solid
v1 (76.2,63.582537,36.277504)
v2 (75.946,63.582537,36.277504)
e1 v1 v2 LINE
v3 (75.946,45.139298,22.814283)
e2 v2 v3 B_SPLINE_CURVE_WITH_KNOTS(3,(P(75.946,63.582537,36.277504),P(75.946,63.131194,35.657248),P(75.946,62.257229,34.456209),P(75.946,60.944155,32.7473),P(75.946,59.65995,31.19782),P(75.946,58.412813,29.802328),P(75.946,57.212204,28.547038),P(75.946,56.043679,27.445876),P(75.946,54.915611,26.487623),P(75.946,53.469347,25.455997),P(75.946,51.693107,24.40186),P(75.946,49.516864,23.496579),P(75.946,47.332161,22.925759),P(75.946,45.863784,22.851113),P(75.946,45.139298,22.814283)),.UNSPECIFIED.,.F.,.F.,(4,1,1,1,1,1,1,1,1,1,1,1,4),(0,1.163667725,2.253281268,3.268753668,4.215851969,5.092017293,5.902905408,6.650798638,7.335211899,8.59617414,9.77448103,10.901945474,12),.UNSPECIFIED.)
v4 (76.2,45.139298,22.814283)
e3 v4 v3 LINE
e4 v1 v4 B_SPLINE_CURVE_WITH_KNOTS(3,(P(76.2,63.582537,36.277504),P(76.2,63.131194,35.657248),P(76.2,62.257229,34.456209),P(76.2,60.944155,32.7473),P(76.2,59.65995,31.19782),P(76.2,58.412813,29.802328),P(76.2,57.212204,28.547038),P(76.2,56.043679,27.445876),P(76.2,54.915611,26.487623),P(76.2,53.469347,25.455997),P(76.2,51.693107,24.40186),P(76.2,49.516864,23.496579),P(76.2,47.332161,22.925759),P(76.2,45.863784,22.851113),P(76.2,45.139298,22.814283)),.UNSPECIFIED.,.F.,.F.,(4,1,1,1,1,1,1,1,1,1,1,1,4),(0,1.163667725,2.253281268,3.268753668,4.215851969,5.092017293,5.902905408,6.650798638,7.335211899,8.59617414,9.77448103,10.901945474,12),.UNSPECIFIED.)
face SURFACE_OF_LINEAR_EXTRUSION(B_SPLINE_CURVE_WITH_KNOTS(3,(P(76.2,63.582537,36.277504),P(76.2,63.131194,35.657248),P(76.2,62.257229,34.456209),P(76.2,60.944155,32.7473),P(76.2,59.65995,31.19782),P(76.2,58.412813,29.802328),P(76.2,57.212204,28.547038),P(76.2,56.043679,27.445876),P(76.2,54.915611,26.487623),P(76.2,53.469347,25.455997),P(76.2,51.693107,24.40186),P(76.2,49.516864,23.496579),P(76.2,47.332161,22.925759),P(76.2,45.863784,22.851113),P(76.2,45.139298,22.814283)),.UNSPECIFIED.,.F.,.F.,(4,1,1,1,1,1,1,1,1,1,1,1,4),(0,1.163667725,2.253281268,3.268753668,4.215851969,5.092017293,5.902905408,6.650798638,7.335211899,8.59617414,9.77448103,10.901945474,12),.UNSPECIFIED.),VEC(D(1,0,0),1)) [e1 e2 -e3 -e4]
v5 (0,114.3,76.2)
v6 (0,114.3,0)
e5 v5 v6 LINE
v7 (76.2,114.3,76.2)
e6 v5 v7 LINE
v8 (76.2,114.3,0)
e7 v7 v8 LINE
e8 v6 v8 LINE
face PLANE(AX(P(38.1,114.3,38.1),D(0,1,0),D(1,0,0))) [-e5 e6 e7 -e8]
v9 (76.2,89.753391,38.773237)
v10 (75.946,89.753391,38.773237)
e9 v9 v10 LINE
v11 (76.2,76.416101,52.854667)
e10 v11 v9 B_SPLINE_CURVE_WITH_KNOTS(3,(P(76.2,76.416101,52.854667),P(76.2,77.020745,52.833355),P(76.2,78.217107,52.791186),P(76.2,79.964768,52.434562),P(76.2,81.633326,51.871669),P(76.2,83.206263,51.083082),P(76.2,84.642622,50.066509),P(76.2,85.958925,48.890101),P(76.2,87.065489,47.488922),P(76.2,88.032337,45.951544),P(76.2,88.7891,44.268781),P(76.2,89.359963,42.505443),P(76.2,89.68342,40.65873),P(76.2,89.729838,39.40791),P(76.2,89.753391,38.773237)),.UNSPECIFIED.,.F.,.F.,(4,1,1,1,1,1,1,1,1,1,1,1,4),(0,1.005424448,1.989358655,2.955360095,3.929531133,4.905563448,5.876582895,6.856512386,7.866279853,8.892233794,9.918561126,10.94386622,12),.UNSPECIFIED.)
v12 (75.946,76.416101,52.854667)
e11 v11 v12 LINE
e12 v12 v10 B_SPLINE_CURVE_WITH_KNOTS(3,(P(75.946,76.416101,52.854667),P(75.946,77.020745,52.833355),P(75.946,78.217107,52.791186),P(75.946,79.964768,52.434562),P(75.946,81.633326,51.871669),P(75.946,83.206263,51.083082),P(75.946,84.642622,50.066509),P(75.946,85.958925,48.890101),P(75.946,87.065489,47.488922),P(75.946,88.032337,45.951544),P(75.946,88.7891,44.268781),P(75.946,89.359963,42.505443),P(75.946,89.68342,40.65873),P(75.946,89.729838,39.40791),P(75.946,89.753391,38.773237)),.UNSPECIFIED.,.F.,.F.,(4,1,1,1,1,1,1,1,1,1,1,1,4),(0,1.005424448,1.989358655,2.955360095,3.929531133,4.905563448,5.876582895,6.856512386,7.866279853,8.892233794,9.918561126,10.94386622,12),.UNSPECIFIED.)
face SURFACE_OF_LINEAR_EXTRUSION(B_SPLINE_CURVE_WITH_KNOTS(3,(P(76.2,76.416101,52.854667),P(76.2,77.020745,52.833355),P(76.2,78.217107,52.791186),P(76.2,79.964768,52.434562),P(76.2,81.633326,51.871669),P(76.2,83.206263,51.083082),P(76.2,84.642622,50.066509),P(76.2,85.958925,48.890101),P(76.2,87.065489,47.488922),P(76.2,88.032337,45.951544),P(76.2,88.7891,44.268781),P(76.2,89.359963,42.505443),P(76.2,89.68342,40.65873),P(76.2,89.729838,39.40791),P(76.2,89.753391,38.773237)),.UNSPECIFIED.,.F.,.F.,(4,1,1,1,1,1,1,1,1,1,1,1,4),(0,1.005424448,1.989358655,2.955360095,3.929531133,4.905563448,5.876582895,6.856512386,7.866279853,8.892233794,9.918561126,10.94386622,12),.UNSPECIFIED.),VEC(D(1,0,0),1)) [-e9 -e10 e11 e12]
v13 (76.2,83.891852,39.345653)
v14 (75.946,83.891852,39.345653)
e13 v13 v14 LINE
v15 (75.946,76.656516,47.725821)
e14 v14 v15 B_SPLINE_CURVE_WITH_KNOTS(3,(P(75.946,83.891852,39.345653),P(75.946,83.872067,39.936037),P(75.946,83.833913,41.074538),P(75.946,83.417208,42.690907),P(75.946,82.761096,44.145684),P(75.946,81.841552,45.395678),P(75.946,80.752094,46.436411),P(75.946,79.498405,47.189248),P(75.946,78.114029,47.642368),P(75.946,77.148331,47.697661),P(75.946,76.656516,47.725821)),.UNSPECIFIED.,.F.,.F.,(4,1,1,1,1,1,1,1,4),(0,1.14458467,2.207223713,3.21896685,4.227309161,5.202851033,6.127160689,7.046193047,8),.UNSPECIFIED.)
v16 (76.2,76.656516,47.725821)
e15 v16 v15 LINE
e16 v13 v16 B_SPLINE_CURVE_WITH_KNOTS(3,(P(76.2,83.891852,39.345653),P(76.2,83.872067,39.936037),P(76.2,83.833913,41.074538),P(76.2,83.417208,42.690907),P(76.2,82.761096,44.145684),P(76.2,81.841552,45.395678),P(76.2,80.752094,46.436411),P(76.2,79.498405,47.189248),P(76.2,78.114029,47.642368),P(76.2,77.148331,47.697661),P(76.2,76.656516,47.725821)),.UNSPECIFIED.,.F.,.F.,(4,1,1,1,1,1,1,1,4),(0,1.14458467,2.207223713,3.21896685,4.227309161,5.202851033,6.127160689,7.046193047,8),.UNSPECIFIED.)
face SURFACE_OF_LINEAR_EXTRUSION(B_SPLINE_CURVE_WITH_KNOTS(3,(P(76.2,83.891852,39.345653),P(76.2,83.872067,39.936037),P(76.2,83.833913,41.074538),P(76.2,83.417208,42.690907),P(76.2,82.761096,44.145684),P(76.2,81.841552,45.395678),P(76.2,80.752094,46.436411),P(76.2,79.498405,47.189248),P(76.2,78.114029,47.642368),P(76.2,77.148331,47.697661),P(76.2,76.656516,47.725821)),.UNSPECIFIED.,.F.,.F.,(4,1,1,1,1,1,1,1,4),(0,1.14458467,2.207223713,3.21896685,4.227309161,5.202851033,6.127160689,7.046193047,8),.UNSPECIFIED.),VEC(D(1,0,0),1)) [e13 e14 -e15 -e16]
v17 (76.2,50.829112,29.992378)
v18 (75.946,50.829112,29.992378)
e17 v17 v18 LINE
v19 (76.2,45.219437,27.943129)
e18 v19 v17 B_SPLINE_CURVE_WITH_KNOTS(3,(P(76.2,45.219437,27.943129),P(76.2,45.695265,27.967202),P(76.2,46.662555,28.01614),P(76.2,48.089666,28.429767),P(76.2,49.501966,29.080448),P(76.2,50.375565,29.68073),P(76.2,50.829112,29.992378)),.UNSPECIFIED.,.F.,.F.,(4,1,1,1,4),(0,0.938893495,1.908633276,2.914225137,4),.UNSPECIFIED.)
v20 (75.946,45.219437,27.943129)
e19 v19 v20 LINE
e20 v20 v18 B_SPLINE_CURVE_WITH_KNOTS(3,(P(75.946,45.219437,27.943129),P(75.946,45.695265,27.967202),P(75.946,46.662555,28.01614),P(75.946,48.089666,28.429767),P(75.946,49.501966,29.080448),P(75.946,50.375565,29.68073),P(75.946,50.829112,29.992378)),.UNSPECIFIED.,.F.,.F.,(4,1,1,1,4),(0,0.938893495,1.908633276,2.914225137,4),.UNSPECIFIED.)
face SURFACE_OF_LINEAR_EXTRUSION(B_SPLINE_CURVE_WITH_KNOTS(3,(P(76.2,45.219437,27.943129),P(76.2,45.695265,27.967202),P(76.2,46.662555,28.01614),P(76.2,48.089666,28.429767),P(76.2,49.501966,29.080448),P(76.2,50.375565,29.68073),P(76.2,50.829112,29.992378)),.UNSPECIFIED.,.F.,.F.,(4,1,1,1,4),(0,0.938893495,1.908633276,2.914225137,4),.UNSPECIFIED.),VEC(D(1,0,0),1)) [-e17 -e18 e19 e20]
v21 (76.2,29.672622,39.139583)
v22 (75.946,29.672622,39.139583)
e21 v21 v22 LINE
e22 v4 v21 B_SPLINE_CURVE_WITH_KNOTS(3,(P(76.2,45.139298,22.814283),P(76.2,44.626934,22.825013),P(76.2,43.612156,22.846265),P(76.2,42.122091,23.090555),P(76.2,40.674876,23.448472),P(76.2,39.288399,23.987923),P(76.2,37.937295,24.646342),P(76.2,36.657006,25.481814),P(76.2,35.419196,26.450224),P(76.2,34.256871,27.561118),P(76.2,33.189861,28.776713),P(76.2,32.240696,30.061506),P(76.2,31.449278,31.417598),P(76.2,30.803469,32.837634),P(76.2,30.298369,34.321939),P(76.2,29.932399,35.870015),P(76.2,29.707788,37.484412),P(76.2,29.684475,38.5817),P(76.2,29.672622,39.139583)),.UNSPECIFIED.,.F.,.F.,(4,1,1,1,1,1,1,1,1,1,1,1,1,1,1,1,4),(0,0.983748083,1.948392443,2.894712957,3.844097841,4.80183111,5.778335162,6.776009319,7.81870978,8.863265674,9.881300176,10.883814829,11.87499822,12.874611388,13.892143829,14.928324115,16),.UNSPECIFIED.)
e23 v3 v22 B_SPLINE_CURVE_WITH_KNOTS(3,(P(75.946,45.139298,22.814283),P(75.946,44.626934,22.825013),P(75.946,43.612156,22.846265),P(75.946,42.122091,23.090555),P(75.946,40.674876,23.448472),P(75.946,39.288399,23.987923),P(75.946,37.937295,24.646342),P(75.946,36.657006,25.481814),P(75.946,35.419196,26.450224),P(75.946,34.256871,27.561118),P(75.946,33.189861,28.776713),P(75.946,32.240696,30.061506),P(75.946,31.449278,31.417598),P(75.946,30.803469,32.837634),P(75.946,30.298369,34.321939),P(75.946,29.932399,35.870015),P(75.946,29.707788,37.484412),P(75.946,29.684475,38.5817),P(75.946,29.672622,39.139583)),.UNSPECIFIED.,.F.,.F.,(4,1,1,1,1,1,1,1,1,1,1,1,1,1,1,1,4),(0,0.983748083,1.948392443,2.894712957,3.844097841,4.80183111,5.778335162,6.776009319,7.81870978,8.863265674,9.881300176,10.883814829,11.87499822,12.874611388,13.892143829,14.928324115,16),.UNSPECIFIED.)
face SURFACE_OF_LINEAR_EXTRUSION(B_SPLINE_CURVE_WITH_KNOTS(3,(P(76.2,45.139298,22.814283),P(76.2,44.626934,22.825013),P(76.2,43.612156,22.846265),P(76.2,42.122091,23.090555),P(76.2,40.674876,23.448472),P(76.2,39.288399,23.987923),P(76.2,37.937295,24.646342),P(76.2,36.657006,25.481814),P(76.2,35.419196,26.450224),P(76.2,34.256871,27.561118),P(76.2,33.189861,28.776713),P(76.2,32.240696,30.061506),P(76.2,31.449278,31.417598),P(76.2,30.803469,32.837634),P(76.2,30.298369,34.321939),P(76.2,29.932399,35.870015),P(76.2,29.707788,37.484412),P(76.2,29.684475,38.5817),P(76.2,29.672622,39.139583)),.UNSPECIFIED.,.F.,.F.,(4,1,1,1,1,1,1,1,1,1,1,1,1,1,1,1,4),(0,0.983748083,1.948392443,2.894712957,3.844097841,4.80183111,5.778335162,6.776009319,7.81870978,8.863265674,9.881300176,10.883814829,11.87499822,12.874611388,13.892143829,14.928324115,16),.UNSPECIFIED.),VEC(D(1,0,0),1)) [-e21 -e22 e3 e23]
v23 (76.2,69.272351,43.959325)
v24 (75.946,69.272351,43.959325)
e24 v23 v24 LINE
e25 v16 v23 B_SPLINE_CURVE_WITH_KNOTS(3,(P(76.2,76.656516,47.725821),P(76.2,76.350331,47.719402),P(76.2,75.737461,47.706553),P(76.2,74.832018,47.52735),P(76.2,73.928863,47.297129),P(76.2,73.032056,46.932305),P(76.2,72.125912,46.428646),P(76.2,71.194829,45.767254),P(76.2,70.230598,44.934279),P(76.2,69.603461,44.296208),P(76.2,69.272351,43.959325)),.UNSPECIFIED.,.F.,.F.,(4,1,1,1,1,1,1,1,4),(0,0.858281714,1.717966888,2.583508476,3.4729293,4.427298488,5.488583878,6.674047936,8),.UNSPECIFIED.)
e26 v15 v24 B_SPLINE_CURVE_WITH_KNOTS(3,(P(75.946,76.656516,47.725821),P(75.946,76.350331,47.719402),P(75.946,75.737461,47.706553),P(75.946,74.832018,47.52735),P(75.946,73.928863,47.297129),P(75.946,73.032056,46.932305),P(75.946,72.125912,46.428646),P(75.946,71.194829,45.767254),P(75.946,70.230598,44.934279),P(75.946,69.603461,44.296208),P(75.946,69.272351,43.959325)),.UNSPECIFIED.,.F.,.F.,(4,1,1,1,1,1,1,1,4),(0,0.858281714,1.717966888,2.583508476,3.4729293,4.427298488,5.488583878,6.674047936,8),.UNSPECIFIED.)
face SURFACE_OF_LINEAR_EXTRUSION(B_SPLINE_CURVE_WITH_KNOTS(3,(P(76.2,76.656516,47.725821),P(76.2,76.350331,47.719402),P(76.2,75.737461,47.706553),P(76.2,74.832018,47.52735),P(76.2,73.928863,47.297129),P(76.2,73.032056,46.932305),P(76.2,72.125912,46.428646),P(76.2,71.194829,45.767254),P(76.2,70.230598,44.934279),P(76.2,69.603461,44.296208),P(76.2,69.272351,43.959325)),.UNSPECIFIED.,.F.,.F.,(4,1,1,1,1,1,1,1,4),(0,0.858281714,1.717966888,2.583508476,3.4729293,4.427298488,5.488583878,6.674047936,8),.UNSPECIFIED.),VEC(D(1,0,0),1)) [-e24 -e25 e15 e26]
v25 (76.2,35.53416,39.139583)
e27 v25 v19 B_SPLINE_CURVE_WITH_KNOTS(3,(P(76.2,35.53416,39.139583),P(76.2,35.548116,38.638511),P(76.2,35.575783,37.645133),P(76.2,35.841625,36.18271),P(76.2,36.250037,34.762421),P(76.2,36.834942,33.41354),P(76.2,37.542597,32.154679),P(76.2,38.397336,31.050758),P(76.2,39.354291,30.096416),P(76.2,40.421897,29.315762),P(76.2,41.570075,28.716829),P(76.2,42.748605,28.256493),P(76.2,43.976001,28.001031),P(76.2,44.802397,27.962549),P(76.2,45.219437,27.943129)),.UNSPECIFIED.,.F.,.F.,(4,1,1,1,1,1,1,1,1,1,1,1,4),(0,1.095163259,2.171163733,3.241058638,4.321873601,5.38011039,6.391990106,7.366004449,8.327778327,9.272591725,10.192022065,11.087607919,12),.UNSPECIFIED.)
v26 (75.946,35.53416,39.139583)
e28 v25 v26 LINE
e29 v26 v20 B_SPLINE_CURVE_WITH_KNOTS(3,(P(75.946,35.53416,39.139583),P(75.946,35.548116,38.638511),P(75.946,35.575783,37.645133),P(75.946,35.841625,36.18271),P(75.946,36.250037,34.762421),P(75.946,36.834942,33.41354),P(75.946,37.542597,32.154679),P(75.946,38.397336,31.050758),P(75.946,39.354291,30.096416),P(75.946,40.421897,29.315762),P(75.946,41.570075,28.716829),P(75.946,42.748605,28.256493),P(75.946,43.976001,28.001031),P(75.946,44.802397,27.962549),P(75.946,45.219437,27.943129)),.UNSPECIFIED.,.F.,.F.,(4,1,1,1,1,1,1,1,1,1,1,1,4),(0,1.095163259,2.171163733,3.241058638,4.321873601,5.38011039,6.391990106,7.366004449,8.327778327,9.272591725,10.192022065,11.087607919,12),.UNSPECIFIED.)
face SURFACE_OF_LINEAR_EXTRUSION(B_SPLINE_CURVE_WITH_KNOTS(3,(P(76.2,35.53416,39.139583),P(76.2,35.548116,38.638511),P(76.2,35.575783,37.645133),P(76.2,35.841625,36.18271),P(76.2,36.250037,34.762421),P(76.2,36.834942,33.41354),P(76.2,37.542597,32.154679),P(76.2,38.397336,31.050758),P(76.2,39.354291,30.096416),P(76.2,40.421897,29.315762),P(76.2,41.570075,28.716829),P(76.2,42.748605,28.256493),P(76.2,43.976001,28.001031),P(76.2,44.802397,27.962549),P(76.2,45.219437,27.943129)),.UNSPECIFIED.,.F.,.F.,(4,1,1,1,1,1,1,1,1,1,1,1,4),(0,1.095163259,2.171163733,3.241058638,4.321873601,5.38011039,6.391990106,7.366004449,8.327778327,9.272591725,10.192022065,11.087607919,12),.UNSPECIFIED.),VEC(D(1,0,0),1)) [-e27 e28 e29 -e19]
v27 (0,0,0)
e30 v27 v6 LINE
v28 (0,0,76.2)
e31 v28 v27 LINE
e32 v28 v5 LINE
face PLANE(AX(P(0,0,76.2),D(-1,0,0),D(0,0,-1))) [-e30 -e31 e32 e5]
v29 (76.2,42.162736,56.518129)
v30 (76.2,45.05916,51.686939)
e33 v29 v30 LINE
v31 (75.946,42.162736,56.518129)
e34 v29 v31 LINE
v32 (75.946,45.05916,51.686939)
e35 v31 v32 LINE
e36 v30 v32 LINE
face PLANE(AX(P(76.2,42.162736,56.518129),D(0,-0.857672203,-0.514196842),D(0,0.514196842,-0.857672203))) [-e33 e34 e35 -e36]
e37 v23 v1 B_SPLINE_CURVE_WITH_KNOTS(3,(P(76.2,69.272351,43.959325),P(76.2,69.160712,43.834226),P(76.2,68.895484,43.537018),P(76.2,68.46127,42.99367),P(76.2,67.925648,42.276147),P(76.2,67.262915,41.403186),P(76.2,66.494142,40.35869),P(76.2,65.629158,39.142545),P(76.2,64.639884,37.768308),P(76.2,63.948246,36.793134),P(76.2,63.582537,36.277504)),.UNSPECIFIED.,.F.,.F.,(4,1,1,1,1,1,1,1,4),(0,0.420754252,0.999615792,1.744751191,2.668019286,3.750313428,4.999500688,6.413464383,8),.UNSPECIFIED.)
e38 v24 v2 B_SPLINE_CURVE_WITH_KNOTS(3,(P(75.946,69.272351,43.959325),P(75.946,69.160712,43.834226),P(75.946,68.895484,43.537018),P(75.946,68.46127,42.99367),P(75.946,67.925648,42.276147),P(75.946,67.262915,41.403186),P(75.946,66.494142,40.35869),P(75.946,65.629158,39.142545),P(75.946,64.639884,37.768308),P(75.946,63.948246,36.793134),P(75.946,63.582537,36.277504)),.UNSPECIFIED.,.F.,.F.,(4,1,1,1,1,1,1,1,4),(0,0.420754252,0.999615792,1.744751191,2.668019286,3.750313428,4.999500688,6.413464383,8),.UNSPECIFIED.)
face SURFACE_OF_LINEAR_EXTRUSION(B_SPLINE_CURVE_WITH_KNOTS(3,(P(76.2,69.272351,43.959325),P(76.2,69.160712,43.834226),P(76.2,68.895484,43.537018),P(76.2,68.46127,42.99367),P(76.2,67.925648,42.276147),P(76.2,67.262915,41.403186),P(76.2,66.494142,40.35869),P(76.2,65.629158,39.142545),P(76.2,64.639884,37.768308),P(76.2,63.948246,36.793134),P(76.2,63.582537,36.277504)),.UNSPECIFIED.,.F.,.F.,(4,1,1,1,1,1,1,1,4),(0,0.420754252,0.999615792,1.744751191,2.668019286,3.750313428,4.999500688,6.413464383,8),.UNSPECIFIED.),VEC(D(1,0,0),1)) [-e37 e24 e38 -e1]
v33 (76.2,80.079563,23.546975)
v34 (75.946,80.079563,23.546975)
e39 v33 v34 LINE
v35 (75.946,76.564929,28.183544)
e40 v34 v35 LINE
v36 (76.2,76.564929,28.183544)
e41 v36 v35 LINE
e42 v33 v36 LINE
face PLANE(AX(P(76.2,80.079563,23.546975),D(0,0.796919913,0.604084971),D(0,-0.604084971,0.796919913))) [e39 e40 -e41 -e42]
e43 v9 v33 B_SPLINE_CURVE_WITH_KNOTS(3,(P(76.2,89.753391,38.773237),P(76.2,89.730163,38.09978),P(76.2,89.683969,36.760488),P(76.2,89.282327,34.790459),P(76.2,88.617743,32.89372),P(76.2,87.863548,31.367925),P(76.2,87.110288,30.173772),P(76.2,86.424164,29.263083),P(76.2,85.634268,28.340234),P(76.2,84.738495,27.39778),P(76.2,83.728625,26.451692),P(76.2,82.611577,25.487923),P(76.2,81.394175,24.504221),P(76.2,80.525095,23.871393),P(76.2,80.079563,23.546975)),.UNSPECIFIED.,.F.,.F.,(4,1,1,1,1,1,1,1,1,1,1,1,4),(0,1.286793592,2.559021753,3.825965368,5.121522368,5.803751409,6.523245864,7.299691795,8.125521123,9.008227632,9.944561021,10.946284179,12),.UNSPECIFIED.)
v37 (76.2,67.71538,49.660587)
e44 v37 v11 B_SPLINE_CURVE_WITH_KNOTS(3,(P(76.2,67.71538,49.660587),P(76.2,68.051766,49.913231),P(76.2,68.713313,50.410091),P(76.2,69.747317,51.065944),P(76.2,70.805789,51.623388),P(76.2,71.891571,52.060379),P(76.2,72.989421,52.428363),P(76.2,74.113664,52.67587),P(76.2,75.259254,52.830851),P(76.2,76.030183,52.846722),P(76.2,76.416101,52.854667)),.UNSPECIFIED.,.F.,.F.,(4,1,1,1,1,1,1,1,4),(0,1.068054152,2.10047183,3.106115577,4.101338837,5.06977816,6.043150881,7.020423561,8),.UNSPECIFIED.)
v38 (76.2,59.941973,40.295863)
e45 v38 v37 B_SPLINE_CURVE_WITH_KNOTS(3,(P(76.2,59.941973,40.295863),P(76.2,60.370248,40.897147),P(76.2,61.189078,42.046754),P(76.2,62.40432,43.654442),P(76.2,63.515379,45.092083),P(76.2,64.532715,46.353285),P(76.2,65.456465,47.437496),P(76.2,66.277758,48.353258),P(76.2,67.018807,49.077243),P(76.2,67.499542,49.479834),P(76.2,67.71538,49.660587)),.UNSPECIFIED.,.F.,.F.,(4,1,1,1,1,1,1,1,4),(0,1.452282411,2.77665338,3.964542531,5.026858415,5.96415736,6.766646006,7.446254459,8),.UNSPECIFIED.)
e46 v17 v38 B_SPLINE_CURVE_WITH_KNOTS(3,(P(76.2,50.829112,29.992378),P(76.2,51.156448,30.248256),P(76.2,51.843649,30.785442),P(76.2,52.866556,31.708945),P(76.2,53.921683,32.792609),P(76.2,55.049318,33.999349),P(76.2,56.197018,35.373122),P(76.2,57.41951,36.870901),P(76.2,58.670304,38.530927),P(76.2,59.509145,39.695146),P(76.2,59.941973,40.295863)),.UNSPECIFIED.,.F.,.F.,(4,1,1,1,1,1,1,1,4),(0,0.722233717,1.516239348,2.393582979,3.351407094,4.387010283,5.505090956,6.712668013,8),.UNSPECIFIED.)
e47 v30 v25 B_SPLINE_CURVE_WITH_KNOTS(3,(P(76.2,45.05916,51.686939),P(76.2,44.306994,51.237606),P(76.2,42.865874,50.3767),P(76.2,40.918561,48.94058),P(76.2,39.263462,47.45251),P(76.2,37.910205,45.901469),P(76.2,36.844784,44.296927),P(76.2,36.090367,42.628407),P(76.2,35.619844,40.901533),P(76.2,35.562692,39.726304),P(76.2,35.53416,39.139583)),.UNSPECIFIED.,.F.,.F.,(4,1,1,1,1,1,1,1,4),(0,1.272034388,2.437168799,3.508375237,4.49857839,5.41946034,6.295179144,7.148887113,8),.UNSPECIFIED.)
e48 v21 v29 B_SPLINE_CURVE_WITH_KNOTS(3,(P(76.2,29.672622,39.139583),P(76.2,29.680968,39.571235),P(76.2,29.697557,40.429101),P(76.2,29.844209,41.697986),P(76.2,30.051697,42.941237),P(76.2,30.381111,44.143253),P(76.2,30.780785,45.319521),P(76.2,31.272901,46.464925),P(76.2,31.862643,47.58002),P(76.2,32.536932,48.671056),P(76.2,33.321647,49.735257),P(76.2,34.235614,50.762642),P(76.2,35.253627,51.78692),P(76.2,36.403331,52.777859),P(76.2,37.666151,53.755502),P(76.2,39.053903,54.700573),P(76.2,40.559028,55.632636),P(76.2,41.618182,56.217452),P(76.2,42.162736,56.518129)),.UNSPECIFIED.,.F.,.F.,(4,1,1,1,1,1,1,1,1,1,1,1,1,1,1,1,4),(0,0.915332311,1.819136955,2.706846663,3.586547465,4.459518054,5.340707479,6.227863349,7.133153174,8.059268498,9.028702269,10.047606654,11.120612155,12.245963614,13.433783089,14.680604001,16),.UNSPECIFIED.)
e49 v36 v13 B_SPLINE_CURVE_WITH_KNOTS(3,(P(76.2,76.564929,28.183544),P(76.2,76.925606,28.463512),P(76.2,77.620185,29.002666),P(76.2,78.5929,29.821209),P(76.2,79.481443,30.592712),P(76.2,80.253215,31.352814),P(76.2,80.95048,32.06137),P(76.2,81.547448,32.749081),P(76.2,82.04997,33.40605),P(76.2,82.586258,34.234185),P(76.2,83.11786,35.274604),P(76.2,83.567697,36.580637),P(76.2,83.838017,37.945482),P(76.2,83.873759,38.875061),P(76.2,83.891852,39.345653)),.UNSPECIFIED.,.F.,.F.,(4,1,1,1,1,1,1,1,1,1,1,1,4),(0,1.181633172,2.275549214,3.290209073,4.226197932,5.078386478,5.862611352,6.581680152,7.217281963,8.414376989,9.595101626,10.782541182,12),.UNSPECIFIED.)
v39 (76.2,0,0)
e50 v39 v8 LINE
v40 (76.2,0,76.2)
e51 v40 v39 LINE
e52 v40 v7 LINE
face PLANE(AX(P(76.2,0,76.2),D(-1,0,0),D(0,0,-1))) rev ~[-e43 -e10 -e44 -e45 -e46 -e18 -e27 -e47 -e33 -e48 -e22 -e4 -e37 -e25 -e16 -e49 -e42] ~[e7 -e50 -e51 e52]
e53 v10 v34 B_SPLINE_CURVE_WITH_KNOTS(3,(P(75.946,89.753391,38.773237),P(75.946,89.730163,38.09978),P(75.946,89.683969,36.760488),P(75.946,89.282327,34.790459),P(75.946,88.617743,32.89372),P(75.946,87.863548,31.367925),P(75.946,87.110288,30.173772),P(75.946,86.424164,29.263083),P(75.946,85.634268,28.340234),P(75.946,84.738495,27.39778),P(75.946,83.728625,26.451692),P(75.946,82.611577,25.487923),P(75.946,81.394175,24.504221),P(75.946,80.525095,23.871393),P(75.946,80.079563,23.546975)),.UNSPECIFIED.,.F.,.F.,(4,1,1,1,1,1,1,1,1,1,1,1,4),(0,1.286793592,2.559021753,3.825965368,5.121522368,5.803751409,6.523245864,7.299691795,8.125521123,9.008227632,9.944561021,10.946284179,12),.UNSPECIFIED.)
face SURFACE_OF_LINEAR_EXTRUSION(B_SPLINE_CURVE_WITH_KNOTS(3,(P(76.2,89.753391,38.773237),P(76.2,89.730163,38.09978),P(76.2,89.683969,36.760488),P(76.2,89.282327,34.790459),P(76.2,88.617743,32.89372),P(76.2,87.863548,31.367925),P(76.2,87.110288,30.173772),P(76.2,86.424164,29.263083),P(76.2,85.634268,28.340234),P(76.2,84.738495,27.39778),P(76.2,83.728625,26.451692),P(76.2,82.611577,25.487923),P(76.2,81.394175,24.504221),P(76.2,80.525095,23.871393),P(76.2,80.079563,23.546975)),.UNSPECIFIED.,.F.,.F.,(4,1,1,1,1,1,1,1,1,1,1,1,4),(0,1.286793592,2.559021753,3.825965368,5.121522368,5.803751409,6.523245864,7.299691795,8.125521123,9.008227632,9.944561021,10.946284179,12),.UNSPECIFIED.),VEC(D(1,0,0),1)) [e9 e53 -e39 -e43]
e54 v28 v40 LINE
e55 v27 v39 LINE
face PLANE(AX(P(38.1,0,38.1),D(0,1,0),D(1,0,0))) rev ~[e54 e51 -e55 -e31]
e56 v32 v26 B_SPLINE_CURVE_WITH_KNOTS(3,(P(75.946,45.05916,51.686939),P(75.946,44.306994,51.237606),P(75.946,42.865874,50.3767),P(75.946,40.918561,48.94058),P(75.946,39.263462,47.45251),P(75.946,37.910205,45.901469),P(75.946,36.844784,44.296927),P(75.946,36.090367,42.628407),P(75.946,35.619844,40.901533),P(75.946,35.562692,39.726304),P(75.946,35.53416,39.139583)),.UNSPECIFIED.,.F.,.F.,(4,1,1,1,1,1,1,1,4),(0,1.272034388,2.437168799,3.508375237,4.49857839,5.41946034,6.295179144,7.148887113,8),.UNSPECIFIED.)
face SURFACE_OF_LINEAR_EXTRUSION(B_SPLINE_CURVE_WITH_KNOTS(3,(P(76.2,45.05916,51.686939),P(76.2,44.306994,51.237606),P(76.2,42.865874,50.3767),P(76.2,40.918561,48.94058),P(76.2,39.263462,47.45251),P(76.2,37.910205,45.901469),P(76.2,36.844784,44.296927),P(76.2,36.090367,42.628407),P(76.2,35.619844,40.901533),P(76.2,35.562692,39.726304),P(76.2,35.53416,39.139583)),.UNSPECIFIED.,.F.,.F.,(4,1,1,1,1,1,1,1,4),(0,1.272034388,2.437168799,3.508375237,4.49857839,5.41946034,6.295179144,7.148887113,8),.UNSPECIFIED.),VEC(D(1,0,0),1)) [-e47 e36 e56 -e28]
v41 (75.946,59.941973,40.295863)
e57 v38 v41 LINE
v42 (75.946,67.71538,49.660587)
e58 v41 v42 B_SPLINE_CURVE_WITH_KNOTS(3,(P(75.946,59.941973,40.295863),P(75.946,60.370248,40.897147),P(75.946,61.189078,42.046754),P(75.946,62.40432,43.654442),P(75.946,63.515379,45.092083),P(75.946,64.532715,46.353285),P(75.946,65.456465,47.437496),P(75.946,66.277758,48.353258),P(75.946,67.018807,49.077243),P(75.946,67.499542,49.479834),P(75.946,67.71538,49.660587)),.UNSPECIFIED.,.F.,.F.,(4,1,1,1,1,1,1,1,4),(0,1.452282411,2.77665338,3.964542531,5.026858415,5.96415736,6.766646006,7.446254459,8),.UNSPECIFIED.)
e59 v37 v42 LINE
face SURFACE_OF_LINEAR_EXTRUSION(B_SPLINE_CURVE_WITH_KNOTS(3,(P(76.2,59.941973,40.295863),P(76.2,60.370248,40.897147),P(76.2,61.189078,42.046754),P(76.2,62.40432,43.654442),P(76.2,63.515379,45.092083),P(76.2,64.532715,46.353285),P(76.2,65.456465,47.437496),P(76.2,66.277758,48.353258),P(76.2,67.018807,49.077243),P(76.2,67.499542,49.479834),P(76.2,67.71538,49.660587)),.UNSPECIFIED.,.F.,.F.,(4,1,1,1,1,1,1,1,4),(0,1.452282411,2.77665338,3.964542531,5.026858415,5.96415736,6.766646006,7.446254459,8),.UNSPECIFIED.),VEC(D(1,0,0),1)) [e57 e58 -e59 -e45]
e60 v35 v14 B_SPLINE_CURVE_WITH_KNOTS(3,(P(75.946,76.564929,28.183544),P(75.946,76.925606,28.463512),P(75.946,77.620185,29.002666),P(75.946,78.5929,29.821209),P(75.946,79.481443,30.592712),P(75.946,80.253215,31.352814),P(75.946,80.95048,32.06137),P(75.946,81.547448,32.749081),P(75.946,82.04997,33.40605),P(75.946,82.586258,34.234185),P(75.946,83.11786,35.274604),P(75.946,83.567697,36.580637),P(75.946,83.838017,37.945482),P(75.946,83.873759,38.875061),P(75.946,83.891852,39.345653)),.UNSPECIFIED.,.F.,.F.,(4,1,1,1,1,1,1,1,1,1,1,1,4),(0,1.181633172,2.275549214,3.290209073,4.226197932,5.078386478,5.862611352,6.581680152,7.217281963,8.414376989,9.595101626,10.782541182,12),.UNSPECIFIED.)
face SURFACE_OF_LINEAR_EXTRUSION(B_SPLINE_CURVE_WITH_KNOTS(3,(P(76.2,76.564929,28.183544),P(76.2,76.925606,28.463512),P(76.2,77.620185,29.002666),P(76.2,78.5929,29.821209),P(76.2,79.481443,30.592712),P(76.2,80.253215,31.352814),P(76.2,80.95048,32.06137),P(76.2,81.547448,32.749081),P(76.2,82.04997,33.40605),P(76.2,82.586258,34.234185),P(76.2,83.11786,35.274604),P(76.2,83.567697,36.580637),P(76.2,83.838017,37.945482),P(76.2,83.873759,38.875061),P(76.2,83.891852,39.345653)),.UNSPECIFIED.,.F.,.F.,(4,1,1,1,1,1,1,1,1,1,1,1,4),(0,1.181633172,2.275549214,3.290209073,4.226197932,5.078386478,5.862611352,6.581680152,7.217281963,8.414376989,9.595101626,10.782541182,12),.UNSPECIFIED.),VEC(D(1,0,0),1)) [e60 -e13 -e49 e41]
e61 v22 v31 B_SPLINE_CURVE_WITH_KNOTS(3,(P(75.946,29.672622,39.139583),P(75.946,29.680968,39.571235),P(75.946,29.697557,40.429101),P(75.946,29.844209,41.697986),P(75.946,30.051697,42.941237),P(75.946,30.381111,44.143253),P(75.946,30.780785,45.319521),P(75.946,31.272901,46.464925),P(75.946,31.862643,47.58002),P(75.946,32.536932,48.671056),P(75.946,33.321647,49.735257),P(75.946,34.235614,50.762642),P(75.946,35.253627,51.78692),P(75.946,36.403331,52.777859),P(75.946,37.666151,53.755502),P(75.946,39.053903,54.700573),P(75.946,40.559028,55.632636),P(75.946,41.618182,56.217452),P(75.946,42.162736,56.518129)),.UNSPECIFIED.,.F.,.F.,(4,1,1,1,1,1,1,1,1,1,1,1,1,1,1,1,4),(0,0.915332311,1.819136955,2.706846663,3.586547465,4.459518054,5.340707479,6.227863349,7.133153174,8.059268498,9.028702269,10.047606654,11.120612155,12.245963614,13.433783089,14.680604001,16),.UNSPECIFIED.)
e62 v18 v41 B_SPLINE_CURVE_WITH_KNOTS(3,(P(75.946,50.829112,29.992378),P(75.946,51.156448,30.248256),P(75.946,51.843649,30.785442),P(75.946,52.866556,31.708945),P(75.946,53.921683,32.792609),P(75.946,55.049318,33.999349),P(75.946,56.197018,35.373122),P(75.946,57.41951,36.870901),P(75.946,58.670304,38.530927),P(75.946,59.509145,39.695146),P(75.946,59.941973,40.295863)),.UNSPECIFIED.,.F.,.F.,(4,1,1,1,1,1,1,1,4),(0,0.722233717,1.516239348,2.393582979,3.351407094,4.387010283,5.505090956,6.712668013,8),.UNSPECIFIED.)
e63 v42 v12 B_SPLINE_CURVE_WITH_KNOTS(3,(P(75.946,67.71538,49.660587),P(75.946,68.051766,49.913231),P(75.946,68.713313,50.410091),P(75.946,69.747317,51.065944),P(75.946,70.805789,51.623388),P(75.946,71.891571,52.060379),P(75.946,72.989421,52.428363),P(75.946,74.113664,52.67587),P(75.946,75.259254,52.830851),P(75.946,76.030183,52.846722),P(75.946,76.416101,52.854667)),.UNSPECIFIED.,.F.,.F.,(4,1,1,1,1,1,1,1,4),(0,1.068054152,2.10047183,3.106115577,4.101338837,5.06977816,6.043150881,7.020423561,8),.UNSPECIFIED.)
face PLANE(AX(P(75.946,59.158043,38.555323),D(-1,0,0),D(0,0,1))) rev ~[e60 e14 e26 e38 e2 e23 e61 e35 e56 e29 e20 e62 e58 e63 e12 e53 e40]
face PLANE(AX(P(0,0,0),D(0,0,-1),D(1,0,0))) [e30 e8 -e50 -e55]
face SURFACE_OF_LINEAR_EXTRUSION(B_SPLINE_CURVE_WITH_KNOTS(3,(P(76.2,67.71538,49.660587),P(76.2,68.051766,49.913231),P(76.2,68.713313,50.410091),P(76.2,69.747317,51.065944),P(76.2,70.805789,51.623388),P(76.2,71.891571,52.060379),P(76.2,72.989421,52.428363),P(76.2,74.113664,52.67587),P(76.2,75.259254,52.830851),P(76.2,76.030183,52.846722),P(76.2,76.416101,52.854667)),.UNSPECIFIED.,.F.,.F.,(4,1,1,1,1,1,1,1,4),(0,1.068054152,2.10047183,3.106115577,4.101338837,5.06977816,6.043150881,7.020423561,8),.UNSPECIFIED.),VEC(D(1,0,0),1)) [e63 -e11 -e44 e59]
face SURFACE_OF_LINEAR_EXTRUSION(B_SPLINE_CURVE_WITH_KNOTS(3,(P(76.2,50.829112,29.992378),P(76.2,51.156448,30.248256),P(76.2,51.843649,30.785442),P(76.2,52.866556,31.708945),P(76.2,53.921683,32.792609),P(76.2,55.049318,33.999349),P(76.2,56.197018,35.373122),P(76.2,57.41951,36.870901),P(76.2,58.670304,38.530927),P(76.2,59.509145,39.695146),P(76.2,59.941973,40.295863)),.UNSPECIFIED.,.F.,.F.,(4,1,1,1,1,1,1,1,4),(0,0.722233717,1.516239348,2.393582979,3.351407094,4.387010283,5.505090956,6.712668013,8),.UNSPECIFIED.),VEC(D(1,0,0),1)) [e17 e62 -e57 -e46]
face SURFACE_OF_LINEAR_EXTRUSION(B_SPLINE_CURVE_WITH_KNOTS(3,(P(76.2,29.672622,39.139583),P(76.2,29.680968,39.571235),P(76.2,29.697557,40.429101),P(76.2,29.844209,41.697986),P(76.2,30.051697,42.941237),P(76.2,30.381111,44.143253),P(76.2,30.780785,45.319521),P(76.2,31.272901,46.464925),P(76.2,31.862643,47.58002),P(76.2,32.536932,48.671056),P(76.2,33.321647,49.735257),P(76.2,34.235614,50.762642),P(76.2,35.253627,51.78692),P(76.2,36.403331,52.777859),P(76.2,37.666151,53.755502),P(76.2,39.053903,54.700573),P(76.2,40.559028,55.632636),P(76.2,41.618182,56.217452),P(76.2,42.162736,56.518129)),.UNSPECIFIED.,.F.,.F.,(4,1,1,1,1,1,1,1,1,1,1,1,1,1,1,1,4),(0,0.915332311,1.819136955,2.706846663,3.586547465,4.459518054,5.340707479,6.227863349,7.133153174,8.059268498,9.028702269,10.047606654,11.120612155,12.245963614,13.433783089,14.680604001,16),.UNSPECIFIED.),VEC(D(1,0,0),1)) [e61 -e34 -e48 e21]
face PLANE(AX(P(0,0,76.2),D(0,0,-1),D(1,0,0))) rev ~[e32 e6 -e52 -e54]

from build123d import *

# Parameters (mm, degrees)
SKETCH1_W           = 76.2
SKETCH1_H           = 76.2
BOSS_EXTRUDE1_DEPTH = 114.3
CUT_EXTRUDE1_DEPTH  = 0.254


with BuildPart() as part:
    # Sketch1 → Boss-Extrude1 (new body)
    with BuildSketch(Plane(origin=(0, 0, 0), x_dir=(1, 0, 0), z_dir=(0, 1, 0))):
        with Locations((38.1, -38.1)):
            Rectangle(SKETCH1_W, SKETCH1_H)
    extrude(amount=BOSS_EXTRUDE1_DEPTH)

    # Sketch2 → Cut-Extrude1 (cut)
    with BuildSketch(Plane(origin=(76.2, 0, 0), x_dir=(0, 0, -1), z_dir=(1, 0, 0))):
        with BuildLine():
            Line((-56.518128947, 42.162735797), (-51.686939044, 45.059160076))
            add(Edge.make_bspline(
                [(-51.686939044, 45.059160076), (-51.237605541, 44.306994476), (-50.37669989, 42.865874213), (-48.94057984, 40.918560781), (-47.452509591, 39.263461564), (-45.901469473, 37.910204958), (-44.29692692, 36.84478385), (-42.6284073, 36.09036741), (-40.901533333, 35.619843698), (-39.726303648, 35.562692284), (-39.139583274, 35.534160076)],
                knots=[0, 0, 0, 0, 1.272034388, 2.437168799, 3.508375237, 4.49857839, 5.41946034, 6.295179144, 7.148887113, 8, 8, 8, 8], degree=3))
            add(Edge.make_bspline(
                [(-39.139583274, 35.534160076), (-38.638510681, 35.548115657), (-37.645133086, 35.575782629), (-36.182709605, 35.841624868), (-34.762421034, 36.250037202), (-33.413539992, 36.834941841), (-32.154678743, 37.5425974), (-31.050757989, 38.397335699), (-30.096416456, 39.354291315), (-29.315761913, 40.421896662), (-28.716829337, 41.570075245), (-28.256493134, 42.748605422), (-28.001031432, 43.976000758), (-27.962549015, 44.802397316), (-27.943128947, 45.219436518)],
                knots=[0, 0, 0, 0, 1.095163259, 2.171163733, 3.241058638, 4.321873601, 5.38011039, 6.391990106, 7.366004449, 8.327778327, 9.272591725, 10.192022065, 11.087607919, 12, 12, 12, 12], degree=3))
            add(Edge.make_bspline(
                [(-27.943128947, 45.219436518), (-27.967202335, 45.695264964), (-28.016140014, 46.662554662), (-28.429766896, 48.089666138), (-29.080448169, 49.501966246), (-29.680729623, 50.375565483), (-29.992377746, 50.829111999)],
                knots=[0, 0, 0, 0, 0.938893495, 1.908633276, 2.914225137, 4, 4, 4, 4], degree=3))
            add(Edge.make_bspline(
                [(-29.992377746, 50.829111999), (-30.248256489, 51.15644799), (-30.785441902, 51.843648958), (-31.708945287, 52.86655616), (-32.792609125, 53.921682629), (-33.9993486, 55.049318374), (-35.37312175, 56.197017682), (-36.870901021, 57.419509706), (-38.530926604, 58.670304029), (-39.695145527, 59.509144635), (-40.295863322, 59.941972576)],
                knots=[0, 0, 0, 0, 0.722233717, 1.516239348, 2.393582979, 3.351407094, 4.387010283, 5.505090956, 6.712668013, 8, 8, 8, 8], degree=3))
            add(Edge.make_bspline(
                [(-40.295863322, 59.941972576), (-40.897146574, 60.370247942), (-42.046754365, 61.18907783), (-43.654442359, 62.404320067), (-45.092082663, 63.515379251), (-46.353285461, 64.532714763), (-47.437496021, 65.456464581), (-48.353258004, 66.277758073), (-49.0772433, 67.018806788), (-49.47983371, 67.499541839), (-49.66058688, 67.715380027)],
                knots=[0, 0, 0, 0, 1.452282411, 2.77665338, 3.964542531, 5.026858415, 5.96415736, 6.766646006, 7.446254459, 8, 8, 8, 8], degree=3))
            add(Edge.make_bspline(
                [(-49.66058688, 67.715380027), (-49.91323144, 68.051765529), (-50.410090874, 68.713312764), (-51.065944363, 69.747317227), (-51.623388121, 70.805788546), (-52.060378773, 71.891571021), (-52.428363032, 72.989421359), (-52.675870387, 74.113663843), (-52.830851339, 75.259253856), (-52.846722491, 76.030182873), (-52.854667409, 76.416101181)],
                knots=[0, 0, 0, 0, 1.068054152, 2.10047183, 3.106115577, 4.101338837, 5.06977816, 6.043150881, 7.020423561, 8, 8, 8, 8], degree=3))
            add(Edge.make_bspline(
                [(-52.854667409, 76.416101181), (-52.833355211, 77.0207445), (-52.791186347, 78.217107312), (-52.434561901, 79.964767872), (-51.871668795, 81.633326085), (-51.083082269, 83.20626282), (-50.066508635, 84.642621622), (-48.890100796, 85.958924702), (-47.488921814, 87.065488838), (-45.951543979, 88.032337163), (-44.268780647, 88.789099913), (-42.505443467, 89.359962775), (-40.658729848, 89.683419654), (-39.407910093, 89.729837944), (-38.773237121, 89.753390845)],
                knots=[0, 0, 0, 0, 1.005424448, 1.989358655, 2.955360095, 3.929531133, 4.905563448, 5.876582895, 6.856512386, 7.866279853, 8.892233794, 9.918561126, 10.94386622, 12, 12, 12, 12], degree=3))
            add(Edge.make_bspline(
                [(-38.773237121, 89.753390845), (-38.099779883, 89.730162609), (-36.760488382, 89.683969063), (-34.790459048, 89.282326516), (-32.893720493, 88.617742689), (-31.367925469, 87.863547888), (-30.17377195, 87.110287772), (-29.2630829, 86.42416407), (-28.340233668, 85.634267653), (-27.397780287, 84.738494535), (-26.451692091, 83.728625442), (-25.487923435, 82.611576622), (-24.504220588, 81.394174574), (-23.871392758, 80.525094512), (-23.546975101, 80.07956272)],
                knots=[0, 0, 0, 0, 1.286793592, 2.559021753, 3.825965368, 5.121522368, 5.803751409, 6.523245864, 7.299691795, 8.125521123, 9.008227632, 9.944561021, 10.946284179, 12, 12, 12, 12], degree=3))
            Line((-23.546975101, 80.07956272), (-28.183543611, 76.564929306))
            add(Edge.make_bspline(
                [(-28.183543611, 76.564929306), (-28.463512194, 76.925606066), (-29.002666226, 77.620185175), (-29.821209133, 78.592899657), (-30.592712055, 79.48144303), (-31.352813583, 80.253215049), (-32.061369594, 80.950479883), (-32.749080727, 81.547448484), (-33.406050205, 82.049969992), (-34.234184903, 82.586258407), (-35.274604218, 83.117859601), (-36.580637431, 83.56769669), (-37.945481893, 83.838017201), (-38.875061448, 83.873758608), (-39.345652986, 83.891852383)],
                knots=[0, 0, 0, 0, 1.181633172, 2.275549214, 3.290209073, 4.226197932, 5.078386478, 5.862611352, 6.581680152, 7.217281963, 8.414376989, 9.595101626, 10.782541182, 12, 12, 12, 12], degree=3))
            add(Edge.make_bspline(
                [(-39.345652986, 83.891852383), (-39.936037345, 83.872067054), (-41.074537965, 83.83391291), (-42.690907106, 83.417208008), (-44.145683625, 82.761095632), (-45.395677651, 81.841552489), (-46.436411434, 80.752093994), (-47.18924771, 79.498404975), (-47.642368254, 78.114029458), (-47.697661364, 77.148330699), (-47.725821255, 76.656515845)],
                knots=[0, 0, 0, 0, 1.14458467, 2.207223713, 3.21896685, 4.227309161, 5.202851033, 6.127160689, 7.046193047, 8, 8, 8, 8], degree=3))
            add(Edge.make_bspline(
                [(-47.725821255, 76.656515845), (-47.719402059, 76.350330988), (-47.70655317, 75.737460602), (-47.527350402, 74.832018098), (-47.297128502, 73.928862941), (-46.932305243, 73.032055625), (-46.4286455, 72.125912019), (-45.767253842, 71.194828504), (-44.934279332, 70.230598461), (-44.296207545, 69.603460915), (-43.959324861, 69.272351181)],
                knots=[0, 0, 0, 0, 0.858281714, 1.717966888, 2.583508476, 3.4729293, 4.427298488, 5.488583878, 6.674047936, 8, 8, 8, 8], degree=3))
            add(Edge.make_bspline(
                [(-43.959324861, 69.272351181), (-43.834225594, 69.160712317), (-43.537018372, 68.895483929), (-42.993670042, 68.461269976), (-42.276146922, 67.925647565), (-41.403185552, 67.262914669), (-40.358689917, 66.494141652), (-39.142545164, 65.629158242), (-37.768307564, 64.639884247), (-36.793133994, 63.948246119), (-36.277503947, 63.582537479)],
                knots=[0, 0, 0, 0, 0.420754252, 0.999615792, 1.744751191, 2.668019286, 3.750313428, 4.999500688, 6.413464383, 8, 8, 8, 8], degree=3))
            add(Edge.make_bspline(
                [(-36.277503947, 63.582537479), (-35.657248249, 63.131193566), (-34.456209054, 62.257228632), (-32.747300285, 60.944155456), (-31.197819961, 59.659949749), (-29.802327937, 58.412812536), (-28.547037846, 57.212203818), (-27.445876207, 56.043679316), (-26.487622884, 54.915610608), (-25.455996503, 53.469346979), (-24.401859535, 51.693107274), (-23.496578921, 49.516864036), (-22.925759048, 47.33216126), (-22.851112732, 45.863784488), (-22.814282794, 45.139298297)],
                knots=[0, 0, 0, 0, 1.163667725, 2.253281268, 3.268753668, 4.215851969, 5.092017293, 5.902905408, 6.650798638, 7.335211899, 8.59617414, 9.77448103, 10.901945474, 12, 12, 12, 12], degree=3))
            add(Edge.make_bspline(
                [(-22.814282794, 45.139298297), (-22.82501292, 44.626934421), (-22.846264802, 43.61215643), (-23.090555151, 42.122091389), (-23.44847197, 40.674875902), (-23.987922804, 39.288398738), (-24.646342374, 37.93729497), (-25.481814107, 36.657005967), (-26.450223874, 35.419195773), (-27.561118063, 34.25687105), (-28.776713297, 33.189861021), (-30.061505625, 32.240696489), (-31.417597939, 31.449278008), (-32.837633653, 30.803469259), (-34.321938951, 30.298369108), (-35.870014621, 29.932398974), (-37.484412497, 29.707787866), (-38.581700361, 29.684474561), (-39.139583274, 29.672621614)],
                knots=[0, 0, 0, 0, 0.983748083, 1.948392443, 2.894712957, 3.844097841, 4.80183111, 5.778335162, 6.776009319, 7.81870978, 8.863265674, 9.881300176, 10.883814829, 11.87499822, 12.874611388, 13.892143829, 14.928324115, 16, 16, 16, 16], degree=3))
            add(Edge.make_bspline(
                [(-39.139583274, 29.672621614), (-39.571234661, 29.680968479), (-40.429101228, 29.69755709), (-41.697986054, 29.844208568), (-42.941236774, 30.051697417), (-44.143252837, 30.38111116), (-45.319520858, 30.780785228), (-46.464924988, 31.272901144), (-47.580020339, 31.862643448), (-48.671056013, 32.536932207), (-49.735257178, 33.321646522), (-50.762642205, 34.235613757), (-51.786920191, 35.253626788), (-52.777858677, 36.403330701), (-53.75550159, 37.666151111), (-54.700573334, 39.053903063), (-55.632636239, 40.559027568), (-56.217451663, 41.618181754), (-56.518128947, 42.162735797)],
                knots=[0, 0, 0, 0, 0.915332311, 1.819136955, 2.706846663, 3.586547465, 4.459518054, 5.340707479, 6.227863349, 7.133153174, 8.059268498, 9.028702269, 10.047606654, 11.120612155, 12.245963614, 13.433783089, 14.680604001, 16, 16, 16, 16], degree=3))
        make_face()
    extrude(amount=-CUT_EXTRUDE1_DEPTH, mode=Mode.SUBTRACT)


solid = part.part
